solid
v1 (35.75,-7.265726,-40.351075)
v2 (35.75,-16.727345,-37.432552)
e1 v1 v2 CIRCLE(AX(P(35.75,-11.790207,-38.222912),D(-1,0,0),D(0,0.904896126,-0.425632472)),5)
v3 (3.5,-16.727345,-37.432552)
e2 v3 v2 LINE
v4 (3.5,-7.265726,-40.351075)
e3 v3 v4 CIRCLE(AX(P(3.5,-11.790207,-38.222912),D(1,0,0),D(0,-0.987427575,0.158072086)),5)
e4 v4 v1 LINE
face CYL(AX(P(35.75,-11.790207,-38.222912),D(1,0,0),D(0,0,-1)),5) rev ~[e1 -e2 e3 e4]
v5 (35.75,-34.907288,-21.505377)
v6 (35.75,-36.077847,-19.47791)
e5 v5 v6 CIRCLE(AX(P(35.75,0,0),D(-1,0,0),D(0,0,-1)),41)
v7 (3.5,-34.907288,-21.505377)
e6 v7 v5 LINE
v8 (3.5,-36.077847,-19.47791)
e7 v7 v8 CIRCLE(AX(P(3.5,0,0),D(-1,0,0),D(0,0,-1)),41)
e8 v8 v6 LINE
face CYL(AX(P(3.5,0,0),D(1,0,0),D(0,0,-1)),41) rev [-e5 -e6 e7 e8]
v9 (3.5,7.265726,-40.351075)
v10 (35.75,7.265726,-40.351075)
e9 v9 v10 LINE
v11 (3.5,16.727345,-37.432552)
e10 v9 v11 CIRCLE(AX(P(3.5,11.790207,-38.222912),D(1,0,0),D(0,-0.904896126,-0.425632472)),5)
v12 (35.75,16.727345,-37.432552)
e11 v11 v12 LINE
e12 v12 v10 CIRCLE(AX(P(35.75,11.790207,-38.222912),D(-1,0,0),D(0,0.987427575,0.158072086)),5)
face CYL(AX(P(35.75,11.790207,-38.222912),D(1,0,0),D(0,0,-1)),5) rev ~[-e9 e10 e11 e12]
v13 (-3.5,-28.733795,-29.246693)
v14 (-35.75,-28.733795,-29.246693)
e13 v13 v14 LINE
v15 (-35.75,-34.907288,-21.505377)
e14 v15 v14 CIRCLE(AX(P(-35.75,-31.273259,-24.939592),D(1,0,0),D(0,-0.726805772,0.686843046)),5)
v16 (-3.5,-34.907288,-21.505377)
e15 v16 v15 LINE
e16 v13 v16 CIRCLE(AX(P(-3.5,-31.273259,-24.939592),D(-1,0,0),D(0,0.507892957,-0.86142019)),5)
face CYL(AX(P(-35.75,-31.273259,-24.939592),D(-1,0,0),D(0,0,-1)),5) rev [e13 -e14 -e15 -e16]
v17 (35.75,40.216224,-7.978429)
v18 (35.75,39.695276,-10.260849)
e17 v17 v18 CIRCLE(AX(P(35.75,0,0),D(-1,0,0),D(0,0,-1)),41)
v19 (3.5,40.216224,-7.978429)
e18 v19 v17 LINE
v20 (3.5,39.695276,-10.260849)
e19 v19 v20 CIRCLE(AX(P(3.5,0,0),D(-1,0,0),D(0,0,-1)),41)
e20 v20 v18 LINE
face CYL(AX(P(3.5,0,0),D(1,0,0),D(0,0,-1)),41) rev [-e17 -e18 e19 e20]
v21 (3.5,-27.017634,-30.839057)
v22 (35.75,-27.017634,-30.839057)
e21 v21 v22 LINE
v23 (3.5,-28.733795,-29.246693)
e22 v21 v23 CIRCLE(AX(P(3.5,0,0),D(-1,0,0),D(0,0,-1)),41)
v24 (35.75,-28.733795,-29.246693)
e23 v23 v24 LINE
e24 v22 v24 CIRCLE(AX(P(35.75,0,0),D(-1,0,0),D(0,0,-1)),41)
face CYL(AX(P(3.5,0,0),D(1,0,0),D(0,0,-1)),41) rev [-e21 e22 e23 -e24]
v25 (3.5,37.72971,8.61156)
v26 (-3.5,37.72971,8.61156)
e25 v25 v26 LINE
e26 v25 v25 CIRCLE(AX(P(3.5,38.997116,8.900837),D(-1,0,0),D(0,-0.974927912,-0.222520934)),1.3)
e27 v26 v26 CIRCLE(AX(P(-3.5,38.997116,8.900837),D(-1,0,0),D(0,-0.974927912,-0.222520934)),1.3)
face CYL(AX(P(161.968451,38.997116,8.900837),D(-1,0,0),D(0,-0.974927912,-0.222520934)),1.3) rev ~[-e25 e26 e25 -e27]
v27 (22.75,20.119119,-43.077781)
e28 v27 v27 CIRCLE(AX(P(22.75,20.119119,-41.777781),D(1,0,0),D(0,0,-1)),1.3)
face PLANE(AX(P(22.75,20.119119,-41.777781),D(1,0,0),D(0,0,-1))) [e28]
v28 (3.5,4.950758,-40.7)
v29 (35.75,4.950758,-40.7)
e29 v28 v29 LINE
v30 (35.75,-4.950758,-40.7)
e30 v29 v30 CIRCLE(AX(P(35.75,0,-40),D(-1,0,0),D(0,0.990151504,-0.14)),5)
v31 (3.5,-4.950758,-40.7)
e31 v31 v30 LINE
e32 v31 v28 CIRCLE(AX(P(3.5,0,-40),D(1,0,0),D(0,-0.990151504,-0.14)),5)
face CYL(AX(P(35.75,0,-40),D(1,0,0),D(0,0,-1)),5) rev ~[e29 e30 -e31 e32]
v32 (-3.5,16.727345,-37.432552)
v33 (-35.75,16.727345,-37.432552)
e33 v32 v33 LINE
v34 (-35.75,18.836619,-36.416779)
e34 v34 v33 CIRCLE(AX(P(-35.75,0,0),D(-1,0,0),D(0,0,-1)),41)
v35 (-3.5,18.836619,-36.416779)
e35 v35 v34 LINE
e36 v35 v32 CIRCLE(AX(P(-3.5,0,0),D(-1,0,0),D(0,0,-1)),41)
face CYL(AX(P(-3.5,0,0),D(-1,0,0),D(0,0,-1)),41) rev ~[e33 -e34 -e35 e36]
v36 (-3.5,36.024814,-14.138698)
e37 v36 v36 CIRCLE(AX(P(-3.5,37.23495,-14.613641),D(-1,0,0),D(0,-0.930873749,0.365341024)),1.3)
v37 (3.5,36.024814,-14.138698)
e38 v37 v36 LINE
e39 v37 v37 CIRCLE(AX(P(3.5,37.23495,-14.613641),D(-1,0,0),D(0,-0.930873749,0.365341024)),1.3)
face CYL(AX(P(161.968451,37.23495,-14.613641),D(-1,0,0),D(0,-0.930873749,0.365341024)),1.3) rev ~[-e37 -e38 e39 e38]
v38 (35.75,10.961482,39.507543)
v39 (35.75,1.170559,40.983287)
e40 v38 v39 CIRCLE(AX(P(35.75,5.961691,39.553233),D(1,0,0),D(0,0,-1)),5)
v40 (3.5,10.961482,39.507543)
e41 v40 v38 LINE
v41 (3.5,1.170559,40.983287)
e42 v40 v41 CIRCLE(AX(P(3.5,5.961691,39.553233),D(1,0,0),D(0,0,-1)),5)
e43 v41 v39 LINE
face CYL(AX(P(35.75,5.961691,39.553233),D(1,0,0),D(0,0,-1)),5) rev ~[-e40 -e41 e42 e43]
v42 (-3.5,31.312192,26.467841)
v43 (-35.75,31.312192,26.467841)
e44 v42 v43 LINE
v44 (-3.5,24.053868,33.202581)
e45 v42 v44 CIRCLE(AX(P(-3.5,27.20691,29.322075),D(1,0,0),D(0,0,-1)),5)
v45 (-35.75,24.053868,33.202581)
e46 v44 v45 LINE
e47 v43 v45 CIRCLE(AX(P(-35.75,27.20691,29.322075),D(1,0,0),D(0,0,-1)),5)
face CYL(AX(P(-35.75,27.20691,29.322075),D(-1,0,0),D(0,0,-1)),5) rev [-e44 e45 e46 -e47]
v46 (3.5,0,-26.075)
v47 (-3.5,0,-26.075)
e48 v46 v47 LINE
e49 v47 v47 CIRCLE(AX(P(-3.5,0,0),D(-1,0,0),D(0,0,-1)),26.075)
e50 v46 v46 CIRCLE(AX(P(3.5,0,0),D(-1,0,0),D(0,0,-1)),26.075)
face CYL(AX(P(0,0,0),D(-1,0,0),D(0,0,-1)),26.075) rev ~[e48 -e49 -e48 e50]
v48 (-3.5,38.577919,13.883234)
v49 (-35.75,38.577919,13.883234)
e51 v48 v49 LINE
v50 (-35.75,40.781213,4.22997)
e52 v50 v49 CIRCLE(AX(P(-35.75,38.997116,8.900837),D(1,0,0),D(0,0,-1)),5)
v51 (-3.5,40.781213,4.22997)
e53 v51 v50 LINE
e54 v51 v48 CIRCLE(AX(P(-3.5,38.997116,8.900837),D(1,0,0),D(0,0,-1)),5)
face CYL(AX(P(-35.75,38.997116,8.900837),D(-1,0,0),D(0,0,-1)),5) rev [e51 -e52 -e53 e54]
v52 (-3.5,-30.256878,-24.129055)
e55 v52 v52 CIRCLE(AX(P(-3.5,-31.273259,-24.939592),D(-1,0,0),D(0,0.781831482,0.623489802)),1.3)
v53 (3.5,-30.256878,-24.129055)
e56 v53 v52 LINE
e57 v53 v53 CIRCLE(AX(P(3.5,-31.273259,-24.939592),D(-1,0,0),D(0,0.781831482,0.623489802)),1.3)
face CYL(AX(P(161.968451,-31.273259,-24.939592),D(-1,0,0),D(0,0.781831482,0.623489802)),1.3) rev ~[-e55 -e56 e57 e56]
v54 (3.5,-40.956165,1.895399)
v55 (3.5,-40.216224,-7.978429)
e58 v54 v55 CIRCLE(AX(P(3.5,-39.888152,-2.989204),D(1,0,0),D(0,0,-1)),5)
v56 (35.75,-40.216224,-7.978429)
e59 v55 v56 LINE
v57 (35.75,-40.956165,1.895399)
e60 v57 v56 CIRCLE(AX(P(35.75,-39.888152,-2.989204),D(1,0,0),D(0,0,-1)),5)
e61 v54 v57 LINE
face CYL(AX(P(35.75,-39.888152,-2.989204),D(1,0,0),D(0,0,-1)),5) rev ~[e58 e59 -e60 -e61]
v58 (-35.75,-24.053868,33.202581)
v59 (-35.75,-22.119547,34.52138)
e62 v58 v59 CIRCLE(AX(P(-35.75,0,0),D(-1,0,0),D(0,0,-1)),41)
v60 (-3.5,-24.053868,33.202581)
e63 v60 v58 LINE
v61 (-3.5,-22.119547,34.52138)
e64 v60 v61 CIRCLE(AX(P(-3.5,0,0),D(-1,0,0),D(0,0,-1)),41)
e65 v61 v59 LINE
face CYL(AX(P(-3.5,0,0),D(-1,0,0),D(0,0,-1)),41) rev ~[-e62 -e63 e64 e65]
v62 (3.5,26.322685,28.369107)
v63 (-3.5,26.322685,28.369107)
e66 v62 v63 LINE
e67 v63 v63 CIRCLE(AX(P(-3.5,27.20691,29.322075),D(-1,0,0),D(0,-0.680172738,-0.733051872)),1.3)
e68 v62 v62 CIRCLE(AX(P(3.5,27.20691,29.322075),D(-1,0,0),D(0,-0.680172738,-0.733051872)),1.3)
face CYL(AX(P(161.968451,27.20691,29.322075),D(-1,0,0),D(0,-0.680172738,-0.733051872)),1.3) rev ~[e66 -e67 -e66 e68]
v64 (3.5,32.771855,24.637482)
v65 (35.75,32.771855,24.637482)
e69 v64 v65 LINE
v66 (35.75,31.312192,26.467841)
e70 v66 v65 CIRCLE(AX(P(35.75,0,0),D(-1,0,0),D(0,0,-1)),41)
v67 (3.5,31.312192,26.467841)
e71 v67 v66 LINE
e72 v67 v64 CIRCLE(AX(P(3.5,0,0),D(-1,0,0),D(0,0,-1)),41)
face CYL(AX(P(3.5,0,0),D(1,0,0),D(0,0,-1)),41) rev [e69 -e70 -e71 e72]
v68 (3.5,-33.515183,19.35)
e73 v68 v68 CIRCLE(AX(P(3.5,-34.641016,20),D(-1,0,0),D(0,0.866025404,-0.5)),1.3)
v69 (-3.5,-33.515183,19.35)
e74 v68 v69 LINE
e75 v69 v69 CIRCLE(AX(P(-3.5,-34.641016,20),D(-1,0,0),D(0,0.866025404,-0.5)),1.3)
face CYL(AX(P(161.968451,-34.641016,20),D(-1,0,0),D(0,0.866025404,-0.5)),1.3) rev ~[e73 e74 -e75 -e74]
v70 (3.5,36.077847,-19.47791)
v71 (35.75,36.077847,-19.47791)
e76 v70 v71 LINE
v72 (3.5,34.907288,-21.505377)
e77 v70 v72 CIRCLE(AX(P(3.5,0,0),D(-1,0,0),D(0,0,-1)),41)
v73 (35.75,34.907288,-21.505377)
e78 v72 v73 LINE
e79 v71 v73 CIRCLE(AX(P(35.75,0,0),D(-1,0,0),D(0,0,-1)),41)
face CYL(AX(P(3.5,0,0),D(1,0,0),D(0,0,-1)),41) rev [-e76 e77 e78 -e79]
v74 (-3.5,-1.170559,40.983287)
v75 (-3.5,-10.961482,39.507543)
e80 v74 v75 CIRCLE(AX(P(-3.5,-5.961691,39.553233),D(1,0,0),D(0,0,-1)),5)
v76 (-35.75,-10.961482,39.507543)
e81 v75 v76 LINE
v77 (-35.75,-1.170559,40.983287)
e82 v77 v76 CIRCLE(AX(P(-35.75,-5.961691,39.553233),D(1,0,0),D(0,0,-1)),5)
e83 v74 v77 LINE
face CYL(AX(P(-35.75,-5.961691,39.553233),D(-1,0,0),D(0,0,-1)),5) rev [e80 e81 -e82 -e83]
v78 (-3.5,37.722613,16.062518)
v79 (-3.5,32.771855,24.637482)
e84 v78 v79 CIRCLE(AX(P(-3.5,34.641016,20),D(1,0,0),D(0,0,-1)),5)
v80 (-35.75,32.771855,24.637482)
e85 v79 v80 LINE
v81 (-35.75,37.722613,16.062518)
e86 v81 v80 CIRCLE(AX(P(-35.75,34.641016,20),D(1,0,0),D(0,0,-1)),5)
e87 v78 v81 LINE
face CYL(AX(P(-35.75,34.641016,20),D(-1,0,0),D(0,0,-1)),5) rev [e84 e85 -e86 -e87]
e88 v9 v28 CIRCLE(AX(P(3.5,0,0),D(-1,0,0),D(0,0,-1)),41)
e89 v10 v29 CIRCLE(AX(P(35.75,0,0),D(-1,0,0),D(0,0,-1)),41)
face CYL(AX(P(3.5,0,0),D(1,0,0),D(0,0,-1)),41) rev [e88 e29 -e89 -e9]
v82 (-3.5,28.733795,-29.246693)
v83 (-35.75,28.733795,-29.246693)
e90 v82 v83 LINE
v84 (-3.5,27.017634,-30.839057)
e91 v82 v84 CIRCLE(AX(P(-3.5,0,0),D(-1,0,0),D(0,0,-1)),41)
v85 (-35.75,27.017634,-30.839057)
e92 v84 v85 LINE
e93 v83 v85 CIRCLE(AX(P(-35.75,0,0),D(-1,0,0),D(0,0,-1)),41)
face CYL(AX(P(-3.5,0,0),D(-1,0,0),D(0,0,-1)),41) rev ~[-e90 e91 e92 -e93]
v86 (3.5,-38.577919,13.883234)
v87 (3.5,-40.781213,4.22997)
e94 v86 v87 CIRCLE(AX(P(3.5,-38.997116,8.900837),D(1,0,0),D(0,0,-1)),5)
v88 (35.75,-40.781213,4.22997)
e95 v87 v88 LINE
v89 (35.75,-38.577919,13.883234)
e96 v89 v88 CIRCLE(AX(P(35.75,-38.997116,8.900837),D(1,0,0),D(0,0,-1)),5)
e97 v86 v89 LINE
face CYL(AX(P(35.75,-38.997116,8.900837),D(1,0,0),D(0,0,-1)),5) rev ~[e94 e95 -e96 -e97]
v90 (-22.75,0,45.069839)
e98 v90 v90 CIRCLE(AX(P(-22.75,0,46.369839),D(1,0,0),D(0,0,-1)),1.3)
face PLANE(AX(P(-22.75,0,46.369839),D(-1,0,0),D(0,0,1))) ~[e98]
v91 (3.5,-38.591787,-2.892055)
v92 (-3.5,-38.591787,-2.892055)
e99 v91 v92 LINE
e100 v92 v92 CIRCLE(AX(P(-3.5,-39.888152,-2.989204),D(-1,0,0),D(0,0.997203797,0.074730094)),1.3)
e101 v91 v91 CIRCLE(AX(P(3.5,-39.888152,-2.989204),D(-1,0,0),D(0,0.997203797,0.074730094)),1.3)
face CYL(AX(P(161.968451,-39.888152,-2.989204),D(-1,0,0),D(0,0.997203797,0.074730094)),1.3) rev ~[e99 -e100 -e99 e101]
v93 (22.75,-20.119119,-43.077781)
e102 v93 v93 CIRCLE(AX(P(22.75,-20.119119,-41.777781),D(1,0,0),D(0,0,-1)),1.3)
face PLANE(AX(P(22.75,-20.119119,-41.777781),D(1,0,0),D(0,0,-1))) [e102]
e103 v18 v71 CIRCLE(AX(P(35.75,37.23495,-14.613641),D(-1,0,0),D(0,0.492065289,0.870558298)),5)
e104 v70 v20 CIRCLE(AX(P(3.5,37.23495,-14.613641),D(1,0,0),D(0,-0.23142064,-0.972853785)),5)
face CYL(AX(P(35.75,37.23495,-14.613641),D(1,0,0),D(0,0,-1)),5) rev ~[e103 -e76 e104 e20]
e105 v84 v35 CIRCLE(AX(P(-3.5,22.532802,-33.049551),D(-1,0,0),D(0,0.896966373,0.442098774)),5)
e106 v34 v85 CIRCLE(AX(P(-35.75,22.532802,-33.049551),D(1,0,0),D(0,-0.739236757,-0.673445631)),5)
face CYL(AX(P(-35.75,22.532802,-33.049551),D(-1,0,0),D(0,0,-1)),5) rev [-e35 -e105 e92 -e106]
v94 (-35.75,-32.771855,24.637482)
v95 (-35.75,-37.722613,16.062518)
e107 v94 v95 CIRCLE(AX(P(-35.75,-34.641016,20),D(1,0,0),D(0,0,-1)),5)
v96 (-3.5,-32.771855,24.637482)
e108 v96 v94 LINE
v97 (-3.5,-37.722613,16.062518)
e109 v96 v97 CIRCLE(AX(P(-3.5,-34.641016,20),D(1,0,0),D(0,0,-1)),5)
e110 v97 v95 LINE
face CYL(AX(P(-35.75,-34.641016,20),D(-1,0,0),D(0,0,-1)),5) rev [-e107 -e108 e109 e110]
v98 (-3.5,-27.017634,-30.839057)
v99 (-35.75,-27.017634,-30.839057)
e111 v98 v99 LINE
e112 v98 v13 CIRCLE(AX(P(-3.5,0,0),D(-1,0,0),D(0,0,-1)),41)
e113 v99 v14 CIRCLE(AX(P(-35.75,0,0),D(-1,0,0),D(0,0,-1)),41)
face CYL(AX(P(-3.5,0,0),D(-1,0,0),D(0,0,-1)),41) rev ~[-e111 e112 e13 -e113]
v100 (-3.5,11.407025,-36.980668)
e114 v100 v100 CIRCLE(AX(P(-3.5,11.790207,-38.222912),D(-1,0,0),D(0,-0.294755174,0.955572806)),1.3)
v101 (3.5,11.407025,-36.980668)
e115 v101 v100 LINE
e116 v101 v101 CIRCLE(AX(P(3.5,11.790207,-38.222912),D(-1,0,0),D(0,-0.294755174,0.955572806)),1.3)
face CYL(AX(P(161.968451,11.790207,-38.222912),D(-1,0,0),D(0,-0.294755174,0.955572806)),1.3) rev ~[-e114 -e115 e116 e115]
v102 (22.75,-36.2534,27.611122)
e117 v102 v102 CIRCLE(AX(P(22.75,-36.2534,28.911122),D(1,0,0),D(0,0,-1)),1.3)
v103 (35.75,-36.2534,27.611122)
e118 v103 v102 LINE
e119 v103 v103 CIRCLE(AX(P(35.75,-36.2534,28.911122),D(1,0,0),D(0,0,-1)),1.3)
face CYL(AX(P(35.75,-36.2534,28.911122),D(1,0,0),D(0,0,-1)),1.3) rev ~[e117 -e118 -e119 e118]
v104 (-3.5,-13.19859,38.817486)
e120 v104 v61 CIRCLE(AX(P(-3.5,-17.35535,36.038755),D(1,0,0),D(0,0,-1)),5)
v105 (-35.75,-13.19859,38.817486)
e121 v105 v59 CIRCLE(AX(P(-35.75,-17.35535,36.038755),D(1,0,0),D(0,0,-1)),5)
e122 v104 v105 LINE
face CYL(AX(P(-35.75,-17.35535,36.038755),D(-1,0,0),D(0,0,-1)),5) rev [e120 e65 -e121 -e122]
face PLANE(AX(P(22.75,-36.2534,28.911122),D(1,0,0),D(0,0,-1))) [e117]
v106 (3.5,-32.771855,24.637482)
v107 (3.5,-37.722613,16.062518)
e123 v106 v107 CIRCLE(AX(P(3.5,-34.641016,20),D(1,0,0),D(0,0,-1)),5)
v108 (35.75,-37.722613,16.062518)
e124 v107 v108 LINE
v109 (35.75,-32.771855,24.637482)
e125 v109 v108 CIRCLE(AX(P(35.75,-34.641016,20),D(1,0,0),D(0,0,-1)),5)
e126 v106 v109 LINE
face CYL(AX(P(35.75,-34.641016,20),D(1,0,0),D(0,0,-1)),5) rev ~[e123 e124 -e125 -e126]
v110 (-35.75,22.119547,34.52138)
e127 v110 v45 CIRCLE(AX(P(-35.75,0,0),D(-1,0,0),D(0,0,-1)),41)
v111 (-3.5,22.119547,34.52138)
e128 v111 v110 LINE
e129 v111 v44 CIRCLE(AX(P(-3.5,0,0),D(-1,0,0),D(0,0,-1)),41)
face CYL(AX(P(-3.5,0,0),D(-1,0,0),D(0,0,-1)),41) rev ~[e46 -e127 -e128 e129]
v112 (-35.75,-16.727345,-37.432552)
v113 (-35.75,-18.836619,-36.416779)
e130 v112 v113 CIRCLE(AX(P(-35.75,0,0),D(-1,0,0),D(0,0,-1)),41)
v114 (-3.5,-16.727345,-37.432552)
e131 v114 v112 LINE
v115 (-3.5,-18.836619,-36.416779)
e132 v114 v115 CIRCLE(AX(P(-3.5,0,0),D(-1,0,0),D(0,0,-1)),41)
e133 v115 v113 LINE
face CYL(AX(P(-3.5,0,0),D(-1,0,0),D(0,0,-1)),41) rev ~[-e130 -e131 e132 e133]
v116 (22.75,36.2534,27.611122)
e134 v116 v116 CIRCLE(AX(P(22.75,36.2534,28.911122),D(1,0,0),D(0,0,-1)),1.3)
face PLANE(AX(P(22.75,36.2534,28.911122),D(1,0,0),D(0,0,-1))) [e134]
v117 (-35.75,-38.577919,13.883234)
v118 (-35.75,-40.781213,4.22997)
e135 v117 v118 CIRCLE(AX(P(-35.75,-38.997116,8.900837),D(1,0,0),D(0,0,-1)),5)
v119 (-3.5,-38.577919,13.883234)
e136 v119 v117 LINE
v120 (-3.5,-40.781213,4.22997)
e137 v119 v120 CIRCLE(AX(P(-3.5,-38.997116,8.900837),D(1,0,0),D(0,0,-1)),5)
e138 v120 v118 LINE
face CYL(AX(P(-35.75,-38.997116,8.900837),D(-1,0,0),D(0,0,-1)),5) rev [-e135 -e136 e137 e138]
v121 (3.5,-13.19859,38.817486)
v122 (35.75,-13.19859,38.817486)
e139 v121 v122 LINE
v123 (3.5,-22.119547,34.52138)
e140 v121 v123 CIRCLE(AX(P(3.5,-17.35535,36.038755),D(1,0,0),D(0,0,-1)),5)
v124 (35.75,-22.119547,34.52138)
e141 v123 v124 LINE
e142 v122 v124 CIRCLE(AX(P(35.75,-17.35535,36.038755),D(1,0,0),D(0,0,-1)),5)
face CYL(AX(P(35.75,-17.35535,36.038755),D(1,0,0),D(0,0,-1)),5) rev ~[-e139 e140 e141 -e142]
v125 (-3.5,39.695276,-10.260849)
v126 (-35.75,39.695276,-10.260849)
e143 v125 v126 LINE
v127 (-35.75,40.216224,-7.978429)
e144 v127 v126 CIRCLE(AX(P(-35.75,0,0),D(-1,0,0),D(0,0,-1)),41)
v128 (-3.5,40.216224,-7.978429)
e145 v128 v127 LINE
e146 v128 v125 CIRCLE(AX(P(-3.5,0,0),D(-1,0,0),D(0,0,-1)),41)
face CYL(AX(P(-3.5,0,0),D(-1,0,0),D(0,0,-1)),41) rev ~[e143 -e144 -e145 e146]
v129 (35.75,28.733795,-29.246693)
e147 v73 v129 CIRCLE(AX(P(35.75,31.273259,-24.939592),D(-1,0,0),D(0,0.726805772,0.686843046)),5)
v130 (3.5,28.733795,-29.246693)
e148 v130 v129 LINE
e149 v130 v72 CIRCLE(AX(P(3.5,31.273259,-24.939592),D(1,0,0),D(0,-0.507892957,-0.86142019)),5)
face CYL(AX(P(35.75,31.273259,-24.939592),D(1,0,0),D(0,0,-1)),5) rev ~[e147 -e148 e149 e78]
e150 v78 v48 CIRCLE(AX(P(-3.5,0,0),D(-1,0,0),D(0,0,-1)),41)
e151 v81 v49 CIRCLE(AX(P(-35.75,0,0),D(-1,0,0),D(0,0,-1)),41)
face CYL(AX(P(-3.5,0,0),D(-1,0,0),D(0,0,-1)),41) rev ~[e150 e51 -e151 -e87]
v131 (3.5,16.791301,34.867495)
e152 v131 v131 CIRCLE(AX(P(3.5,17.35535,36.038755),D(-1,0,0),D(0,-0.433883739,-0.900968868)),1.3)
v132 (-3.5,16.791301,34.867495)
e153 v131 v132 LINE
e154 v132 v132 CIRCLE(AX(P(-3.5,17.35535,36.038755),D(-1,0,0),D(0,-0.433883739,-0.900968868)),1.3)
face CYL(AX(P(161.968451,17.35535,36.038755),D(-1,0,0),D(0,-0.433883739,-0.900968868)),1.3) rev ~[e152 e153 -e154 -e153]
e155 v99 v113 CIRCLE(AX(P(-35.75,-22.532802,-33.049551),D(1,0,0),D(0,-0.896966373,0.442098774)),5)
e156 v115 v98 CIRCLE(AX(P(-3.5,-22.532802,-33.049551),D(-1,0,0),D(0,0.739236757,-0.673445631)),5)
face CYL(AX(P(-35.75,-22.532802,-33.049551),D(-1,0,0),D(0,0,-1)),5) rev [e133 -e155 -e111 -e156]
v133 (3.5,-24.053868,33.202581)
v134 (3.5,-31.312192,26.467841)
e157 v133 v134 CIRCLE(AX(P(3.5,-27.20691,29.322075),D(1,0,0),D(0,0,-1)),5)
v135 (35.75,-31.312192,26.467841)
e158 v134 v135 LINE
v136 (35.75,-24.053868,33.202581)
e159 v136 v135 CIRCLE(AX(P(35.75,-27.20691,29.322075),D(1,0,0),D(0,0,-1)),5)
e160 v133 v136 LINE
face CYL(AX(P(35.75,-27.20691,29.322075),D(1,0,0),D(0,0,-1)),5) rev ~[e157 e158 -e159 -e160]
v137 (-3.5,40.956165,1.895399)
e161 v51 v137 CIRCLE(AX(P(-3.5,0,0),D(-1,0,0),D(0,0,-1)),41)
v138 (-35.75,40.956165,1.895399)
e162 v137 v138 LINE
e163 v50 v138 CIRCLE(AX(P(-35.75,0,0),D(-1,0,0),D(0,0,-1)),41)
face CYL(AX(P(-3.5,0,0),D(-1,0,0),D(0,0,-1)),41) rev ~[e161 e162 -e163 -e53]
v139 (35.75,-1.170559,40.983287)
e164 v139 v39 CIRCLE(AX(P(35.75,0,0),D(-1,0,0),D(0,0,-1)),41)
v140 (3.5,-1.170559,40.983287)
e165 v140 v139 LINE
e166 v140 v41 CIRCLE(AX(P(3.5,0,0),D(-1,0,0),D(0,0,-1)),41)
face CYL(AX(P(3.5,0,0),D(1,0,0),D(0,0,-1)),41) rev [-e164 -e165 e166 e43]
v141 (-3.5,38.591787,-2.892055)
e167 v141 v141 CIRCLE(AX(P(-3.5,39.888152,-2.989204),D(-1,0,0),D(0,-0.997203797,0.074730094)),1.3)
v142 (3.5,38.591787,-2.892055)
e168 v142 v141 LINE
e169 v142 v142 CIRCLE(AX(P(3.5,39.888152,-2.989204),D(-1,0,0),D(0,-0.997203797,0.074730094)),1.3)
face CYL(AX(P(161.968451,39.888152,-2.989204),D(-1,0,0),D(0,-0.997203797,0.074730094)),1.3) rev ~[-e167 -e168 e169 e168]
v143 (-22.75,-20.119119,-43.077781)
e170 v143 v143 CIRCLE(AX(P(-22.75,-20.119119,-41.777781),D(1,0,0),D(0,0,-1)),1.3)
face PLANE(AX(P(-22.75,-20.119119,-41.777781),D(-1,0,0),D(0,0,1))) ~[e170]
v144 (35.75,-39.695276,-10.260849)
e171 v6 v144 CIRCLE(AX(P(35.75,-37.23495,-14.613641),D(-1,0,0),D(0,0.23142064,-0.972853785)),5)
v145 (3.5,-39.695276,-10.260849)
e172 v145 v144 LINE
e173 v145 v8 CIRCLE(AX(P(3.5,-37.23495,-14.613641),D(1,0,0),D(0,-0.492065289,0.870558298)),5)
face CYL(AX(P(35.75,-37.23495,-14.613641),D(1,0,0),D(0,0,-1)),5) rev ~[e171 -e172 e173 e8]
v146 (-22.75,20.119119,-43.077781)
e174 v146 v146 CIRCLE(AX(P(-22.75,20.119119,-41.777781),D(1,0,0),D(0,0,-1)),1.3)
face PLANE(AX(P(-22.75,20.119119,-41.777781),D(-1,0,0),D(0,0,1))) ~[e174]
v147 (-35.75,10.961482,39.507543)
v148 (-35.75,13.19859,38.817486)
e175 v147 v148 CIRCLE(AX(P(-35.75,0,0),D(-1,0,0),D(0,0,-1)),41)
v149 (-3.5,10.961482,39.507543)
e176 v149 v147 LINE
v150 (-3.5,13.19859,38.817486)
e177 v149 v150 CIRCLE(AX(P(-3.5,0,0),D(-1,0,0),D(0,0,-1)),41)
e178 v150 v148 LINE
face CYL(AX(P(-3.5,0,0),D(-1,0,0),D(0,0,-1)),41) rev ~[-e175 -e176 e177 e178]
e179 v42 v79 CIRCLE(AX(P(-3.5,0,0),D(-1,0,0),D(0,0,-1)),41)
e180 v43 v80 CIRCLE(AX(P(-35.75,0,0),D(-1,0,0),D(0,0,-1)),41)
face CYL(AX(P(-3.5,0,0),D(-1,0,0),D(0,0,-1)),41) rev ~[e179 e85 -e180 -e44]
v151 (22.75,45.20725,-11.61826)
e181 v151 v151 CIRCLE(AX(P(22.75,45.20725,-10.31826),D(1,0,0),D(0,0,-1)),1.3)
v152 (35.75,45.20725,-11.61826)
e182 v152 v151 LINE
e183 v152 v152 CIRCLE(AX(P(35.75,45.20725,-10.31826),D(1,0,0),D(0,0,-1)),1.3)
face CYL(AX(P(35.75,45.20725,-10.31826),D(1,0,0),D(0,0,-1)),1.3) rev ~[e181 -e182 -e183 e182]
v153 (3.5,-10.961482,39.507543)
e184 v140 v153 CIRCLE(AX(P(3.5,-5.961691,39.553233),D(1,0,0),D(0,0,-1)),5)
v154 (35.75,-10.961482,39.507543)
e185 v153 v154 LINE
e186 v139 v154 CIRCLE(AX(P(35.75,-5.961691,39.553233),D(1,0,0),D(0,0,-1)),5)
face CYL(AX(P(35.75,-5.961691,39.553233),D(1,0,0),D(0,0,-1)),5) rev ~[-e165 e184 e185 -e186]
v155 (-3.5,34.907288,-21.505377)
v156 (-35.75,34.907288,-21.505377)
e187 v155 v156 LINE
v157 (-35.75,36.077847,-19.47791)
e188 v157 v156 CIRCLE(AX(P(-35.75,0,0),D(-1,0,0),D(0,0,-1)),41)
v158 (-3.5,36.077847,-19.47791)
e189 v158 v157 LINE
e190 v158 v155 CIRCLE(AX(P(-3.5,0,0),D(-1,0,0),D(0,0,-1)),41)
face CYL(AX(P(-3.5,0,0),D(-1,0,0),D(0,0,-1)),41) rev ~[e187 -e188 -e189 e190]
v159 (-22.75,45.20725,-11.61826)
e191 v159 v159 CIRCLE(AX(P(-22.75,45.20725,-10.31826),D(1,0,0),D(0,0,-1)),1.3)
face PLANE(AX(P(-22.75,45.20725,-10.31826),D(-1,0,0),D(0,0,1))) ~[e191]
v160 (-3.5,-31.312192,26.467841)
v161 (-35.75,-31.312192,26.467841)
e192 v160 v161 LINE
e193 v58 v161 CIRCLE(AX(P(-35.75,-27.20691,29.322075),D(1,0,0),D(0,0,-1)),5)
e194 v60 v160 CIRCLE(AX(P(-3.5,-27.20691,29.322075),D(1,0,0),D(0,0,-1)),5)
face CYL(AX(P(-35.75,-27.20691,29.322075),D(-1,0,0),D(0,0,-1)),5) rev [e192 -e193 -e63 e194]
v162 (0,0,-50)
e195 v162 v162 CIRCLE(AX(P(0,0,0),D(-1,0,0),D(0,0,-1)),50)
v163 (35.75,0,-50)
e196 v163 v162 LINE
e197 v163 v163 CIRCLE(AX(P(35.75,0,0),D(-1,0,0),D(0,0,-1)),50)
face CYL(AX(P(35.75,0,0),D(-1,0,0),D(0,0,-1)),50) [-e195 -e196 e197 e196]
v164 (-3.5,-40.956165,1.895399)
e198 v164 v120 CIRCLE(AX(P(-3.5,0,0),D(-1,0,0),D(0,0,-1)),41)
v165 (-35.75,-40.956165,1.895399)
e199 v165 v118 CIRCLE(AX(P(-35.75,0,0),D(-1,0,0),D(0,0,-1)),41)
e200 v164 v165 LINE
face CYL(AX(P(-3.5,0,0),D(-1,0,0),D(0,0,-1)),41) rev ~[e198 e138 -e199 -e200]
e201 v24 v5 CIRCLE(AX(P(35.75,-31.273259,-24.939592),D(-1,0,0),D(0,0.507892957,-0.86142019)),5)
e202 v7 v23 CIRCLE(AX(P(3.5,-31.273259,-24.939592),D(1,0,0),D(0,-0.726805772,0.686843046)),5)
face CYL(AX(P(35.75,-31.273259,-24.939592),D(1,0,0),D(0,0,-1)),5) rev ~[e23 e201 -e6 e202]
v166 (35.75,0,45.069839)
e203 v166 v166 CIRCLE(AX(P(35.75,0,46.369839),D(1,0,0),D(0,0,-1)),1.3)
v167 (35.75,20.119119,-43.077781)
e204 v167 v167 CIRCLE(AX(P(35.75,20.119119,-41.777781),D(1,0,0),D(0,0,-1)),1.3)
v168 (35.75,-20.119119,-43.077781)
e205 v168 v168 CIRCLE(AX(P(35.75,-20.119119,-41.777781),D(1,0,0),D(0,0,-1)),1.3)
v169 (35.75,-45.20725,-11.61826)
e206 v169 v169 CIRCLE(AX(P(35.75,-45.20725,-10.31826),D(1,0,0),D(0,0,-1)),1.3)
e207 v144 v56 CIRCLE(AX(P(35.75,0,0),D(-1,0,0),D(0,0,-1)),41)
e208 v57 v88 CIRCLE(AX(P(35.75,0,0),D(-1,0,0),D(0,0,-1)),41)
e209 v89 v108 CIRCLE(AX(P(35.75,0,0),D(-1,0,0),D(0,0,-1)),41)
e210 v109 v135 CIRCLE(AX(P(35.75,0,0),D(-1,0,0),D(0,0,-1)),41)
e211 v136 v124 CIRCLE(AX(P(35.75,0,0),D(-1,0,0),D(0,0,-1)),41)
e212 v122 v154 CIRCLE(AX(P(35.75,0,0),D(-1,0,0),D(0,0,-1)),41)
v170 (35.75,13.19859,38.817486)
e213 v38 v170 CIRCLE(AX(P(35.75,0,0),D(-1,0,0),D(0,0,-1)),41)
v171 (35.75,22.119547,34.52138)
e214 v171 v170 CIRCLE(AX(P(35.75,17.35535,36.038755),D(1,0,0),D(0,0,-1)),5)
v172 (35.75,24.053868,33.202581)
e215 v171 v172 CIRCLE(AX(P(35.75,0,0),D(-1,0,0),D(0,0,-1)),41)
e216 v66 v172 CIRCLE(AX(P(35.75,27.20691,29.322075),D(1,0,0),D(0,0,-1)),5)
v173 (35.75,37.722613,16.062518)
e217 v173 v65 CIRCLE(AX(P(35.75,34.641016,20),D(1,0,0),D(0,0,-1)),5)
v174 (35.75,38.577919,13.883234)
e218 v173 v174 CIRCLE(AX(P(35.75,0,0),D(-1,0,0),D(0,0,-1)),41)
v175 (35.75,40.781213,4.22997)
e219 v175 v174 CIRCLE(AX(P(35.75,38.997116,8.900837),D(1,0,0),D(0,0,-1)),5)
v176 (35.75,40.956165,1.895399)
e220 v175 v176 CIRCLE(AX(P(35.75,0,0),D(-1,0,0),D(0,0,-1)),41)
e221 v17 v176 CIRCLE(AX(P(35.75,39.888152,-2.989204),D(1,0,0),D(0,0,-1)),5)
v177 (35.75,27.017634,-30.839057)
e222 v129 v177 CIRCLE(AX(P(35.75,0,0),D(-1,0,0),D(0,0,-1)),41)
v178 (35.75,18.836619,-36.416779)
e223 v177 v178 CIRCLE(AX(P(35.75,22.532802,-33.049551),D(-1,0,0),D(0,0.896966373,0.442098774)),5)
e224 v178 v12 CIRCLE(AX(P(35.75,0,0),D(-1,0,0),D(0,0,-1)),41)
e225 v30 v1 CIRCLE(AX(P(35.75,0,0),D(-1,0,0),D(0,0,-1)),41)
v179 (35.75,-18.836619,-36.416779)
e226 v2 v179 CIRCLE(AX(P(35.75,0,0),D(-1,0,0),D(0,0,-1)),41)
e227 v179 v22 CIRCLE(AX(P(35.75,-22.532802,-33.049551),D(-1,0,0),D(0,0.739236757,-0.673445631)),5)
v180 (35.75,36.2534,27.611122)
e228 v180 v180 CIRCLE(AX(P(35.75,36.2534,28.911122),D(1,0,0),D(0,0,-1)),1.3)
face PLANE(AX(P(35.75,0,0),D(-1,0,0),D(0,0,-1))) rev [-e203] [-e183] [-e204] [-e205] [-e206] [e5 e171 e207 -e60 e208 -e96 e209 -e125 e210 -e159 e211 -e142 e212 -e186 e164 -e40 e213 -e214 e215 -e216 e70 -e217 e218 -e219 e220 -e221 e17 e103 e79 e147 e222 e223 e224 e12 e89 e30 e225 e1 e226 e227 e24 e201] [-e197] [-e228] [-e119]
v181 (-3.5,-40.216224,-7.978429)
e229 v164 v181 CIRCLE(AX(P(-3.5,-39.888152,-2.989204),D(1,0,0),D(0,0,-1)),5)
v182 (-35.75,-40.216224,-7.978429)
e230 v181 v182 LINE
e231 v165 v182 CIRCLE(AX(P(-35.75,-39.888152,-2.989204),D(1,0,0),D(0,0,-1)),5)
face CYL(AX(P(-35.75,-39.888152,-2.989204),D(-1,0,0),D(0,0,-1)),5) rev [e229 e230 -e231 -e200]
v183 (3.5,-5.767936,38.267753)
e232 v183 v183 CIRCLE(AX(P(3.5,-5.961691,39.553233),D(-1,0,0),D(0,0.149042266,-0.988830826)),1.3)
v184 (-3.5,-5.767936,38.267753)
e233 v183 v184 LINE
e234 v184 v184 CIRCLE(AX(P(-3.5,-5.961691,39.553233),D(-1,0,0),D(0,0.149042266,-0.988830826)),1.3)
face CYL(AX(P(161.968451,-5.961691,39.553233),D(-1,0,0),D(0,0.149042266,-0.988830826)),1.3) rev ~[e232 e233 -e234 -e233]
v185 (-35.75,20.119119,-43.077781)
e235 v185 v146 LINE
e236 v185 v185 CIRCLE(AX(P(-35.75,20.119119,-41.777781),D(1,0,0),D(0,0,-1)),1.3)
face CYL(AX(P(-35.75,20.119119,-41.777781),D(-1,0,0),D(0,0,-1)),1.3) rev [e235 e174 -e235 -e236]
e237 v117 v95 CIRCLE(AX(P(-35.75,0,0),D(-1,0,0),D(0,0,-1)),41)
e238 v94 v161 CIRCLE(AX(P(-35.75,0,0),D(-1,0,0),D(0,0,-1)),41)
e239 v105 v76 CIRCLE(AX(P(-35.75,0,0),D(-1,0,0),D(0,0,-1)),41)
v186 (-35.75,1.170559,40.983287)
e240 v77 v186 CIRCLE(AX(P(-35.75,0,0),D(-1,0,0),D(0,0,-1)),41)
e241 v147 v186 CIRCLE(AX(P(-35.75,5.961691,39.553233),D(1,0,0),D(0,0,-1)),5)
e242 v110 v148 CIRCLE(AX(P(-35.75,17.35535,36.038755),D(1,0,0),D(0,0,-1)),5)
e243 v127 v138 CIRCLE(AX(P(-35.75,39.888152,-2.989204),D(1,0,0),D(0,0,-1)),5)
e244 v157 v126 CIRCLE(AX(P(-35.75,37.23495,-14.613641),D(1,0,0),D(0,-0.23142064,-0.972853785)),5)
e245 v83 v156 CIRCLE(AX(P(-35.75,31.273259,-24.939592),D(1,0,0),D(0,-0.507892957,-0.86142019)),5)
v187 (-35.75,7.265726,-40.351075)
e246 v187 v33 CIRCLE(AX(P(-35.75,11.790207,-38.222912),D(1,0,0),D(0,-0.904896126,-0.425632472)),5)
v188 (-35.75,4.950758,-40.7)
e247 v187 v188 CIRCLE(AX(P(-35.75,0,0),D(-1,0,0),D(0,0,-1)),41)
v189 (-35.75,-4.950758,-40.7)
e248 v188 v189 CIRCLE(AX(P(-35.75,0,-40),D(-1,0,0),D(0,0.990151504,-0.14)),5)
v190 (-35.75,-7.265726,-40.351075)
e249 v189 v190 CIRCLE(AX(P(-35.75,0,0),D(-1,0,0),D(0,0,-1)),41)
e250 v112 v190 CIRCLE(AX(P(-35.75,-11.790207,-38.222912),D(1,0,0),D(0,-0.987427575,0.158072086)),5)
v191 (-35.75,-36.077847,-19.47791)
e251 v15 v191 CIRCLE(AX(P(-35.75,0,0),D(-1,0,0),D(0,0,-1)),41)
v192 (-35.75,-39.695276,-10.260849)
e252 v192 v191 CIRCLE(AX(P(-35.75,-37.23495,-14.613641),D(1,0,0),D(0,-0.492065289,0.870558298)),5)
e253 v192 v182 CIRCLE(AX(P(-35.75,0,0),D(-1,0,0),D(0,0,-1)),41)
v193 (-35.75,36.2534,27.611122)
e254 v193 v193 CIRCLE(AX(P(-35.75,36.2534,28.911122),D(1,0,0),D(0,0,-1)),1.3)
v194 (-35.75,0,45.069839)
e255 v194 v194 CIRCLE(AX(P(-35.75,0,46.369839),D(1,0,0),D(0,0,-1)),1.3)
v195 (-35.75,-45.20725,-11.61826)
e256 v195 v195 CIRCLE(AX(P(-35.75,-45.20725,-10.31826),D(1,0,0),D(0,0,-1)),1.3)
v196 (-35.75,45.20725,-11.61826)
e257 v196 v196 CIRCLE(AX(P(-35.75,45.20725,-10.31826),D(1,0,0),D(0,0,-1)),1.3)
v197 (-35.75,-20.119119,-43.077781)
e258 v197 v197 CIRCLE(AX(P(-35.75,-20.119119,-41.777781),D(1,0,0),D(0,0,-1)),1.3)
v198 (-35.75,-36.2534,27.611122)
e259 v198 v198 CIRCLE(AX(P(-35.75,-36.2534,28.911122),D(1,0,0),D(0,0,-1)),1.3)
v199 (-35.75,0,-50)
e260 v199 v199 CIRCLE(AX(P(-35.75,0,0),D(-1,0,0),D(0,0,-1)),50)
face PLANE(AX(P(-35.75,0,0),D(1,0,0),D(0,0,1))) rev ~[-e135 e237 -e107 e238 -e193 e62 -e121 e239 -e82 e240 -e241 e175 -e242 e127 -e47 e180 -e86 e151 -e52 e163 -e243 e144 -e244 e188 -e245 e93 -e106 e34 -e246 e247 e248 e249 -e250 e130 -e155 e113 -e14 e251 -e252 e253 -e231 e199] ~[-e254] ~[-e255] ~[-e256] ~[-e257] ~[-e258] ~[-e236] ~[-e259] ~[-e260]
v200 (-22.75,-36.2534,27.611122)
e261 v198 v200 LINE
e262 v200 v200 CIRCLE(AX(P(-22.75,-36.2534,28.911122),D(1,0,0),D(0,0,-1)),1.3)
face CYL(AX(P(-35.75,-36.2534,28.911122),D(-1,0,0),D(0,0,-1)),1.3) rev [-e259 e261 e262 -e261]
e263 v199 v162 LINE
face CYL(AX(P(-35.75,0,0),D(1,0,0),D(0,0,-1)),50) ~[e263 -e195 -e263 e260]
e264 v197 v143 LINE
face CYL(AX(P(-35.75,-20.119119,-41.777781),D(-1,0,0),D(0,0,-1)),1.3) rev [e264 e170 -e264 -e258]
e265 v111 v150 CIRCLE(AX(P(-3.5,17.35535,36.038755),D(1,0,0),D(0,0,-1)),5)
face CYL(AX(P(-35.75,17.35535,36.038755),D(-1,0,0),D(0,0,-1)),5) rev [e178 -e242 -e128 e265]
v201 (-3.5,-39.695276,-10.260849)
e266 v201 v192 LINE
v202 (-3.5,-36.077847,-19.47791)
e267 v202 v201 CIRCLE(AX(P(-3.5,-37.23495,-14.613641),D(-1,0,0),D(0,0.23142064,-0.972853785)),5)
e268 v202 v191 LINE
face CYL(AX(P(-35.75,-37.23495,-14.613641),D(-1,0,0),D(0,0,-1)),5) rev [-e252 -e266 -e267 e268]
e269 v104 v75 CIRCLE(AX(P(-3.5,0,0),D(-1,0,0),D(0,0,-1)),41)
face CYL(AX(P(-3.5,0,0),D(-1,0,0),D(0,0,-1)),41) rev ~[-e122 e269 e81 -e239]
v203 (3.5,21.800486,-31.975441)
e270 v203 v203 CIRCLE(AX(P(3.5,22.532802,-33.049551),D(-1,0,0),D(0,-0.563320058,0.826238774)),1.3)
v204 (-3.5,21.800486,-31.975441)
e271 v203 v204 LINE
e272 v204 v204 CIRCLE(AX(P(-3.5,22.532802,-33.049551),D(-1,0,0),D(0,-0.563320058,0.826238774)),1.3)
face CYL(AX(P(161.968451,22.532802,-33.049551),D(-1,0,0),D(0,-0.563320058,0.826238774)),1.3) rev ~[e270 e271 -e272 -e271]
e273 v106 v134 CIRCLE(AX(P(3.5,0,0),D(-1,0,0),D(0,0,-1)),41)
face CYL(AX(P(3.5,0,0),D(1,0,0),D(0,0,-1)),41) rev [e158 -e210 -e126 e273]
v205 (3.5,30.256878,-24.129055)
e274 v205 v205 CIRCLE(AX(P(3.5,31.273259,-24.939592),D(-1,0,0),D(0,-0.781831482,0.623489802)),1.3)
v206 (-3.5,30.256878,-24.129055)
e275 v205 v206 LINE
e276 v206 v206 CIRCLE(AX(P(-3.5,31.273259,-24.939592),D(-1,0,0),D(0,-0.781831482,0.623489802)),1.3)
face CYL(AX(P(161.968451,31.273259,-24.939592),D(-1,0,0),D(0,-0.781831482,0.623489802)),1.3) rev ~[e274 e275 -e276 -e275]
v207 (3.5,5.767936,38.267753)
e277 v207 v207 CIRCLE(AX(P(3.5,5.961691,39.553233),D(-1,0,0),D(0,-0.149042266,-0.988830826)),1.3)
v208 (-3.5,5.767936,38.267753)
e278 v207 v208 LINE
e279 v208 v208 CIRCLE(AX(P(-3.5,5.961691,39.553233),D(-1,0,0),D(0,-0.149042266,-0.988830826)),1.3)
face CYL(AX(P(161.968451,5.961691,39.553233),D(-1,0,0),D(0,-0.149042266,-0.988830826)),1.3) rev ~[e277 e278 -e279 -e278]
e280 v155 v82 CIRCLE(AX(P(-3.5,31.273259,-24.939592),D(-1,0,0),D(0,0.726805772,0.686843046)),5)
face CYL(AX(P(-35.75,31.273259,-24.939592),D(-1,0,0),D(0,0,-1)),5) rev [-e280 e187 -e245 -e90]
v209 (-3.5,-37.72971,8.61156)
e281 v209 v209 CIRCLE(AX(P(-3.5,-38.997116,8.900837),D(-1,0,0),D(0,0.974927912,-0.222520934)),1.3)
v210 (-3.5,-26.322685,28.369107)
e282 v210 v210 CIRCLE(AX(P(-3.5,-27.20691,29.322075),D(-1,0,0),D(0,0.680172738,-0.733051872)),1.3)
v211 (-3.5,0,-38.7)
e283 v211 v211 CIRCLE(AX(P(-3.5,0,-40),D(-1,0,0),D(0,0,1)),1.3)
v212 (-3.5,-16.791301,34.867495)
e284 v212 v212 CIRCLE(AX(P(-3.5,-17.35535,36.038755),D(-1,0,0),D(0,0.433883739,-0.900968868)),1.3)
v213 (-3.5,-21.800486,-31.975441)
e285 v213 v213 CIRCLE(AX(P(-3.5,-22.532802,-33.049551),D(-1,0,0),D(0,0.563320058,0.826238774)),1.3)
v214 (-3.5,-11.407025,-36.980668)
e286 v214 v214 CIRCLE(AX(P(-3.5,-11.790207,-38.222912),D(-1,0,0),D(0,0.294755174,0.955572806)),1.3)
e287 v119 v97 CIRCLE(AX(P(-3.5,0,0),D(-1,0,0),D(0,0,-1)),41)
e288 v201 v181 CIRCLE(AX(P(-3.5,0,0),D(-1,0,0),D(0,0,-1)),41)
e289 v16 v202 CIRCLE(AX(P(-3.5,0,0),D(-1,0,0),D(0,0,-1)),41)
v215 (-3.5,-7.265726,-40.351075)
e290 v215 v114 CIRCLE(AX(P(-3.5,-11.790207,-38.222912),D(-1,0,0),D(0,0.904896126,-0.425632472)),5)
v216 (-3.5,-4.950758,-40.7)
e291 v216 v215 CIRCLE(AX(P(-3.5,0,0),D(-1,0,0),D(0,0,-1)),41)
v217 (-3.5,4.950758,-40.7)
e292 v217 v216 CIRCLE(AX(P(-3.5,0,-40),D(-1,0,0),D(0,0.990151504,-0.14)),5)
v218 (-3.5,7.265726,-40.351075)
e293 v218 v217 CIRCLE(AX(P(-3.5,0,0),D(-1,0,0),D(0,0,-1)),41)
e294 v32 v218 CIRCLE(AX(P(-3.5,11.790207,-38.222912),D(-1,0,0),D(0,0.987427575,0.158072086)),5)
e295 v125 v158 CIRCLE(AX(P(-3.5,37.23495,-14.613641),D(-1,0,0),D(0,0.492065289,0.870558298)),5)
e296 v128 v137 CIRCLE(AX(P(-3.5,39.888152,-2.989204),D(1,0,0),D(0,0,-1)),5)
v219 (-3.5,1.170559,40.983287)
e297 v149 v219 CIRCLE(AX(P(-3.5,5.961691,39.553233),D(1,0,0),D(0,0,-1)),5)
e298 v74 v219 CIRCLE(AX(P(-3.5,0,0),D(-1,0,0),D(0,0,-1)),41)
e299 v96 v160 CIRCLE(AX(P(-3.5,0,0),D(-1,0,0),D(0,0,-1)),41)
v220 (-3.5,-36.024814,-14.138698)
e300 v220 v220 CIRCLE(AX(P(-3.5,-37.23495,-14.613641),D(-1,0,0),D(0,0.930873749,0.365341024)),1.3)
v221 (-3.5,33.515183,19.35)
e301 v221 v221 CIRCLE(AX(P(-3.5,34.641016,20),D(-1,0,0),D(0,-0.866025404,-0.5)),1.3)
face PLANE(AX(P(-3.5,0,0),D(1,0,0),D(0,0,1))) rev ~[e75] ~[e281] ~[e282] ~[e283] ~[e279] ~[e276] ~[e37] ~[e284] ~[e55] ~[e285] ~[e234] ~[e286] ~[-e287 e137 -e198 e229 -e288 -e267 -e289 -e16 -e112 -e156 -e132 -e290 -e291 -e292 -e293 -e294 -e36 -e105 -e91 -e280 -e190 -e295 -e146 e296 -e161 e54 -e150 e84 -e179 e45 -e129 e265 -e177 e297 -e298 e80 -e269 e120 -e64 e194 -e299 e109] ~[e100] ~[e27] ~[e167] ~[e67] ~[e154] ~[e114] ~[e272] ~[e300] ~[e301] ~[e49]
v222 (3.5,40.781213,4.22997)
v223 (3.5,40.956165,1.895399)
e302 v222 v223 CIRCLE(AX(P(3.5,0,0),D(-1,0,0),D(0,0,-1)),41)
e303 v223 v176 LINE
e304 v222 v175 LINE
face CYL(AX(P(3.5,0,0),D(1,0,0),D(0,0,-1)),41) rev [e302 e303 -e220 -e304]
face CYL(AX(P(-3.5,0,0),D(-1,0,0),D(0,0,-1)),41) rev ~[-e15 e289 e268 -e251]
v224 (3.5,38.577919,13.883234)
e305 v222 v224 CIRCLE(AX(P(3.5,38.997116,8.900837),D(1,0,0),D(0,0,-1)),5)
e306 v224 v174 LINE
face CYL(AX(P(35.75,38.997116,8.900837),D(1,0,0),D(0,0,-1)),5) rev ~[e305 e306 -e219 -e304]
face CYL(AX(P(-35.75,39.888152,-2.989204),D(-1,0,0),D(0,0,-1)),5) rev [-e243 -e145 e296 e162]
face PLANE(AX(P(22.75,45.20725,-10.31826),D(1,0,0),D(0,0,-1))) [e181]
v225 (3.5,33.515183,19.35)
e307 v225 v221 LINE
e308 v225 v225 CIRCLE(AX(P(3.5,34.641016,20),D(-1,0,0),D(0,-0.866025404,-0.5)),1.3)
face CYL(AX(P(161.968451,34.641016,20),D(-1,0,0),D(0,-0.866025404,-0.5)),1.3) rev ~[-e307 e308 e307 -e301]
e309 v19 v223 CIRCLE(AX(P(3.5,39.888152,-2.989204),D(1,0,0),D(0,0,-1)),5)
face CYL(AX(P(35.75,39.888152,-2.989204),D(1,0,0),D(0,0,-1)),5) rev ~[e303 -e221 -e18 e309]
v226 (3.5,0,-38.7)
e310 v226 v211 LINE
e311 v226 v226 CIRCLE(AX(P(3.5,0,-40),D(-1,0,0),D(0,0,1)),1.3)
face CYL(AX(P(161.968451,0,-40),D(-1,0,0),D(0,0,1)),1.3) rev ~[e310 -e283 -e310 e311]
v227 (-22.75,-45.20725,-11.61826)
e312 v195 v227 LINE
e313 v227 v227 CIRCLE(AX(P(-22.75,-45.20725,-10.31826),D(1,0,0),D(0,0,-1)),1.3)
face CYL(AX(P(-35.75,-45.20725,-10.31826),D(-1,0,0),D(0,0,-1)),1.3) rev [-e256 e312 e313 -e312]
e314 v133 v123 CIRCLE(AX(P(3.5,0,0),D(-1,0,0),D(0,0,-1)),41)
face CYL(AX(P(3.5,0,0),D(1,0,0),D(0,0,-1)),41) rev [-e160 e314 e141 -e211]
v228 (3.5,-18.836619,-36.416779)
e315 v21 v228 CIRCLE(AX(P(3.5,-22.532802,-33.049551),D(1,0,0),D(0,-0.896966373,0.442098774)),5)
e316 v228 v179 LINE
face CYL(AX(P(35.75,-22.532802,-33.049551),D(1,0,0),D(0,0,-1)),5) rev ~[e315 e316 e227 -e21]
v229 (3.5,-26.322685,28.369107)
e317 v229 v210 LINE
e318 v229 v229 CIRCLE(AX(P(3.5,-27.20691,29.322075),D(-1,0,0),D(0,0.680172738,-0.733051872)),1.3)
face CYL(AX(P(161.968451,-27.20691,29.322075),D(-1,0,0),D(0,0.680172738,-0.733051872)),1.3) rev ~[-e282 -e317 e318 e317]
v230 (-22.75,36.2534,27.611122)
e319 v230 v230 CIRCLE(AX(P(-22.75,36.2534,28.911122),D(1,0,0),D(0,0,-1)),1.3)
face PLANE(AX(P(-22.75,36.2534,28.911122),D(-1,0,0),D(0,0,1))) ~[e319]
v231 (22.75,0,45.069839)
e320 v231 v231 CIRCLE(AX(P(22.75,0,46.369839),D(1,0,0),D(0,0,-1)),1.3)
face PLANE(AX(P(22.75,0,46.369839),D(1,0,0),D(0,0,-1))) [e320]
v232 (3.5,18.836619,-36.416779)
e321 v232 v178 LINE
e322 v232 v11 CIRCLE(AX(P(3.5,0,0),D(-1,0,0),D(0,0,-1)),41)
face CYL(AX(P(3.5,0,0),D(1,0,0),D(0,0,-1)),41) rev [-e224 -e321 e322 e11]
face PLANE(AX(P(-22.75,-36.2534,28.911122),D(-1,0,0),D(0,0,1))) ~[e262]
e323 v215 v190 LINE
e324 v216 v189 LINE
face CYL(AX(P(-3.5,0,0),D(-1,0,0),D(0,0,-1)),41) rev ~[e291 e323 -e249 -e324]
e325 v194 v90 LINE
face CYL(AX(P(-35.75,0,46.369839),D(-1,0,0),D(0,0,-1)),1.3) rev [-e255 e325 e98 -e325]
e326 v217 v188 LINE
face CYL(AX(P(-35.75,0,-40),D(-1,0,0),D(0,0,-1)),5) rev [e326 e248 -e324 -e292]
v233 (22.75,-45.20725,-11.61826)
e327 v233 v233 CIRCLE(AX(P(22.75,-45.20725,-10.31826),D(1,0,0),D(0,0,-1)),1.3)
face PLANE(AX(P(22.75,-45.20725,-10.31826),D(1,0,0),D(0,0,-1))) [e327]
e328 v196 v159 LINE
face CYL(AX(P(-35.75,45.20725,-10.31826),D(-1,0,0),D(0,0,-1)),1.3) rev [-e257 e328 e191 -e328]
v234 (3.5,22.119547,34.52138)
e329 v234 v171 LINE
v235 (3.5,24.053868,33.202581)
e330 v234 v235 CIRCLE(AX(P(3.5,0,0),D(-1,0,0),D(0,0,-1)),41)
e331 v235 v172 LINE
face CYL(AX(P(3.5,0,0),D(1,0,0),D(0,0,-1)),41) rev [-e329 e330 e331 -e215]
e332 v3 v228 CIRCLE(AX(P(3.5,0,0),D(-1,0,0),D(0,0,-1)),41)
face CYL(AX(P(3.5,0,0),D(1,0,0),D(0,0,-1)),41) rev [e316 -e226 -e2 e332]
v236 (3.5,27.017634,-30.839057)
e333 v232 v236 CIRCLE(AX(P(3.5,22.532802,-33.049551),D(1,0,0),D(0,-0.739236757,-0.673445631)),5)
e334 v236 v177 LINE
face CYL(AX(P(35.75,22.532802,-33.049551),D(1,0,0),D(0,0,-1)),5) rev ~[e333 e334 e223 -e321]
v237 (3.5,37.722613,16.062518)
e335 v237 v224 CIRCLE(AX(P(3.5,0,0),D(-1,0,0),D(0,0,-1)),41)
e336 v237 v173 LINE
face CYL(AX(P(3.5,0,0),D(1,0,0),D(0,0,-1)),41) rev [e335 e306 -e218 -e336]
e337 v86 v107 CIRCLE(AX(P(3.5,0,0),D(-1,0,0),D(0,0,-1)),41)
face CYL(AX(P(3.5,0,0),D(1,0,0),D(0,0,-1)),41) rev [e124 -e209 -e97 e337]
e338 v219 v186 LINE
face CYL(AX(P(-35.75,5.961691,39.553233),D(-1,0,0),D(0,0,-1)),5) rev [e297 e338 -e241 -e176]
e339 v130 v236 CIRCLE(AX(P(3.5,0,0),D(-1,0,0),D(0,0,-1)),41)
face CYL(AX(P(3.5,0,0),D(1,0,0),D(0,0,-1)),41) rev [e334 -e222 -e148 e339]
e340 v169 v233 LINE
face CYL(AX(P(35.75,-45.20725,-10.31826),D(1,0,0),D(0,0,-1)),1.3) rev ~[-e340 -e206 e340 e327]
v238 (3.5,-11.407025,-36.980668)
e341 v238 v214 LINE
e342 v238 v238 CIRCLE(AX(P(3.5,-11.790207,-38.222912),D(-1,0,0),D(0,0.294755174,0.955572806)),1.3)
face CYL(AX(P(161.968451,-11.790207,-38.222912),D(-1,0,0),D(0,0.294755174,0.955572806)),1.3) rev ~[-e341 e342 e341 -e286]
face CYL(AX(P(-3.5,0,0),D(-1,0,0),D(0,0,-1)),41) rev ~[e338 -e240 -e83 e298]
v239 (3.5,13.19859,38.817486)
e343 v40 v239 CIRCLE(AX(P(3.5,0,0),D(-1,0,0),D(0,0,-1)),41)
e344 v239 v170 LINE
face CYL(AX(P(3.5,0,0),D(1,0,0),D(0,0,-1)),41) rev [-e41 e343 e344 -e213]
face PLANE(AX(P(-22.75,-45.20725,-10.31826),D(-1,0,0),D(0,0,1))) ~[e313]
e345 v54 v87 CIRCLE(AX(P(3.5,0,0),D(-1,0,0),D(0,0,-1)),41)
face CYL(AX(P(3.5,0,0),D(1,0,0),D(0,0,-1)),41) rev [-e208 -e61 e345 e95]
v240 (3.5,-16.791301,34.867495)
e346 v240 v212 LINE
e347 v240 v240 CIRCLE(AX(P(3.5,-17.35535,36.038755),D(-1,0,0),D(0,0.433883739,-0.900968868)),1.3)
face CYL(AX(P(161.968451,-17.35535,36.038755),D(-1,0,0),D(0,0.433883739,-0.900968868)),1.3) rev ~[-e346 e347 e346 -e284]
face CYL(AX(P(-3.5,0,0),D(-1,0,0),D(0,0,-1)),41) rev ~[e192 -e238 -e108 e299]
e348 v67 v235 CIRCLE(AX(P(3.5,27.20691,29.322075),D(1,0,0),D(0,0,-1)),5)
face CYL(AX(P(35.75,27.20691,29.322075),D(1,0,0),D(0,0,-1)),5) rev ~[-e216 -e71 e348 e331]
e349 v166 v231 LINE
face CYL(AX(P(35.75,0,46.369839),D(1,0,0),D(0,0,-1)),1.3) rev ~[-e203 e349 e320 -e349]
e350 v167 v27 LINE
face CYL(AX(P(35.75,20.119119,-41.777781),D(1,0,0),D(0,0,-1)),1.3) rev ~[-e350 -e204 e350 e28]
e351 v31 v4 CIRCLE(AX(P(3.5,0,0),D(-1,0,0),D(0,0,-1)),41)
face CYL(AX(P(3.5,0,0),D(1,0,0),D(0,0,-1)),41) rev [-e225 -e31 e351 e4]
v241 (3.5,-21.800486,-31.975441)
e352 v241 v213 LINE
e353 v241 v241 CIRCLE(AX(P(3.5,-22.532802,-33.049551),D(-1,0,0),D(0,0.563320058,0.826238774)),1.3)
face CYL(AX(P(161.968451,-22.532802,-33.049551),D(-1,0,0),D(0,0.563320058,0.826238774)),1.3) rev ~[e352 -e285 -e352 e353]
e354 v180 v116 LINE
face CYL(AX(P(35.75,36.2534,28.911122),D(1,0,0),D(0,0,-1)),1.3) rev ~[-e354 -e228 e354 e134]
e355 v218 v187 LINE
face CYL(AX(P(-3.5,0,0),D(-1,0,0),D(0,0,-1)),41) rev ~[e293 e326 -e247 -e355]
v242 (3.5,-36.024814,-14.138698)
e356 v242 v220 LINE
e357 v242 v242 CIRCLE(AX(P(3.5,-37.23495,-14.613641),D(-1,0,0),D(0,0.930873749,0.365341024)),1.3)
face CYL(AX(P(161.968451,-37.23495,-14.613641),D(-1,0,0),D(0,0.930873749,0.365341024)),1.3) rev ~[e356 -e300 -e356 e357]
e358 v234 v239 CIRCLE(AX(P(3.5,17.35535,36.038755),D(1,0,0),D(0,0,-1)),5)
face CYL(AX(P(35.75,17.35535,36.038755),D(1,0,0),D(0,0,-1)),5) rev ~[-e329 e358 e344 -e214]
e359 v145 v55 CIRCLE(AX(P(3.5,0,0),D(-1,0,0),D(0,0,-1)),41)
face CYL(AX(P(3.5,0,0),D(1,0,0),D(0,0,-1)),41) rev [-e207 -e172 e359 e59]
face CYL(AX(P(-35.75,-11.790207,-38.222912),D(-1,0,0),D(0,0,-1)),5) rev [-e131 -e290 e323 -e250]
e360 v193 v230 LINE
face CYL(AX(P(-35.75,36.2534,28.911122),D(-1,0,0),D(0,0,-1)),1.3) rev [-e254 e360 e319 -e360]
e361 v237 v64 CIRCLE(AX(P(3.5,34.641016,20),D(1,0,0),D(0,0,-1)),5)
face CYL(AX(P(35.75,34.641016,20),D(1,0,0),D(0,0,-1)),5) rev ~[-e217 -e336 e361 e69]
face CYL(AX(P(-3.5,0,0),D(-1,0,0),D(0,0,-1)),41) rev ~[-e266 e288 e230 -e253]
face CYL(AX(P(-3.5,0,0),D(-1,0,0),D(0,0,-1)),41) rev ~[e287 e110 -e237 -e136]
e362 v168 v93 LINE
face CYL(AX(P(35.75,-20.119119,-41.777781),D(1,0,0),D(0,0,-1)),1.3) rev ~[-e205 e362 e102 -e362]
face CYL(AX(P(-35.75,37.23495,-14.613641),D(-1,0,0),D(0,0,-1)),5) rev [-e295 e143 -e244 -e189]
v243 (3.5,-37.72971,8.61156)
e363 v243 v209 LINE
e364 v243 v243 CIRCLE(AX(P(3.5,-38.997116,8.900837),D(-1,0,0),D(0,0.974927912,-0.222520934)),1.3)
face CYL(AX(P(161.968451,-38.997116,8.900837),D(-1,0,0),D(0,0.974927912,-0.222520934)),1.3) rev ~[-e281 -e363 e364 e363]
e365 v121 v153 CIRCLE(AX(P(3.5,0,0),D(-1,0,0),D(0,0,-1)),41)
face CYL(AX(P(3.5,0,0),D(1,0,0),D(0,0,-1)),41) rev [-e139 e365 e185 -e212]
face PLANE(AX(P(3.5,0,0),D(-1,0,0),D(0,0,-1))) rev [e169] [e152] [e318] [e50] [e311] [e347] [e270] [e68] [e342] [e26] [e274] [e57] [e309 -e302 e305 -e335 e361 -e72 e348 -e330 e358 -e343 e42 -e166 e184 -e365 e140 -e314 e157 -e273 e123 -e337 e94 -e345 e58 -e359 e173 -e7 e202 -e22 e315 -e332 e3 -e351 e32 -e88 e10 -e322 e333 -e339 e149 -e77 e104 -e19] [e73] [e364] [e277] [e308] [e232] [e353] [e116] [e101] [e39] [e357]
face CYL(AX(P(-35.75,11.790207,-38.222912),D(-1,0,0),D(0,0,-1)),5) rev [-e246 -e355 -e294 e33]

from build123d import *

# Parameters (mm, degrees)
SKIZZE4_R                        = 5
SCHNITT_LINEAR_AUSTRAGEN1_DEPTH  = 32.25
SKIZZE5_R                        = 1.3
SCHNITT_LINEAR_AUSTRAGEN2_DEPTH  = 13
F_2_6_2_6_DURCHMESSER_BOHRUNG1_D = 2.6
KREISMUSTER1_COUNT               = 21


with BuildPart() as part:
    # Skizze2 → Rotation1 (revolve)
    with BuildSketch(Plane.XY, mode=Mode.PRIVATE) as rotation1_sk:
        Polygon((0, 26.075), (3.5, 26.075), (3.5, 41), (35.75, 41), (35.75, 50), (0, 50), align=None)
    rotation1 = revolve(rotation1_sk.sketch.rotate(Axis((0, 0, 0), (-1, 0, 0)), 90), axis=Axis((0, 0, 0), (-1, 0, 0)))

    # Skizze4 → Schnitt-Linear austragen1 (cut)
    with BuildSketch(Plane(origin=(35.75, 0, 0), x_dir=(0, 0, -1), z_dir=(1, 0, 0))):
        with Locations((40, 0)):
            Circle(SKIZZE4_R)
        with Locations((38.222912231, -11.790206976)):
            Circle(SKIZZE4_R)
        with Locations((33.049550973, -22.532802323)):
            Circle(SKIZZE4_R)
        with Locations((24.939592074, -31.273259299)):
            Circle(SKIZZE4_R)
        with Locations((14.613640975, -37.234949946)):
            Circle(SKIZZE4_R)
        with Locations((2.989203743, -39.888151887)):
            Circle(SKIZZE4_R)
        with Locations((-8.900837358, -38.997116487)):
            Circle(SKIZZE4_R)
        with Locations((-20, -34.641016151)):
            Circle(SKIZZE4_R)
        with Locations((-29.322074873, -27.206909511)):
            Circle(SKIZZE4_R)
        with Locations((-36.038754716, -17.355349565)):
            Circle(SKIZZE4_R)
        with Locations((-39.553233049, -5.961690647)):
            Circle(SKIZZE4_R)
        with Locations((-39.553233049, 5.961690647)):
            Circle(SKIZZE4_R)
        with Locations((-36.038754716, 17.355349565)):
            Circle(SKIZZE4_R)
        with Locations((-29.322074873, 27.206909511)):
            Circle(SKIZZE4_R)
        with Locations((-20, 34.641016151)):
            Circle(SKIZZE4_R)
        with Locations((-8.900837358, 38.997116487)):
            Circle(SKIZZE4_R)
        with Locations((2.989203743, 39.888151887)):
            Circle(SKIZZE4_R)
        with Locations((14.613640975, 37.234949946)):
            Circle(SKIZZE4_R)
        with Locations((24.939592074, 31.273259299)):
            Circle(SKIZZE4_R)
        with Locations((33.049550973, 22.532802323)):
            Circle(SKIZZE4_R)
        with Locations((38.222912231, 11.790206976)):
            Circle(SKIZZE4_R)
    schnitt_linear_austragen1 = extrude(amount=-SCHNITT_LINEAR_AUSTRAGEN1_DEPTH, mode=Mode.SUBTRACT)

    # Skizze5 → Schnitt-Linear austragen2 (cut)
    with BuildSketch(Plane(origin=(35.75, 0, 0), x_dir=(0, 0, -1), z_dir=(1, 0, 0))):
        with Locations((-46.369838758, 0)):
            Circle(SKIZZE5_R)
        with Locations((-28.91112158, 36.253399778)):
            Circle(SKIZZE5_R)
        with Locations((10.318259828, 45.207250089)):
            Circle(SKIZZE5_R)
        with Locations((41.777781131, 20.119119023)):
            Circle(SKIZZE5_R)
        with Locations((41.777781131, -20.119119023)):
            Circle(SKIZZE5_R)
        with Locations((10.318259828, -45.207250089)):
            Circle(SKIZZE5_R)
        with Locations((-28.91112158, -36.253399778)):
            Circle(SKIZZE5_R)
    schnitt_linear_austragen2 = extrude(amount=-SCHNITT_LINEAR_AUSTRAGEN2_DEPTH, mode=Mode.SUBTRACT)

    # Spiegeln1: Rotation1, Schnitt-Linear austragen1, Schnitt-Linear austragen2 across plane
    add(rotation1.mirror(Plane(origin=(0, 0, 0), x_dir=(0, 0, 1), z_dir=(1, 0, 0))))
    add(schnitt_linear_austragen1.mirror(Plane(origin=(0, 0, 0), x_dir=(0, 0, 1), z_dir=(1, 0, 0))), mode=Mode.SUBTRACT)
    add(schnitt_linear_austragen2.mirror(Plane(origin=(0, 0, 0), x_dir=(0, 0, 1), z_dir=(1, 0, 0))), mode=Mode.SUBTRACT)

    # Ø2.6 (2.6) Durchmesser Bohrung1 (through all)
    with Locations(Plane(origin=(3.5, 0, 0), x_dir=(0, 0, -1), z_dir=(1, 0, 0))):
        with Locations((40, 0)):
            f_2_6_2_6_durchmesser_bohrung1 = Hole(F_2_6_2_6_DURCHMESSER_BOHRUNG1_D / 2)

    # Kreismuster1: Ø2.6 (2.6) Durchmesser Bohrung1 ×21 about axis
    kreismuster1_axis = Axis((0, 0, 0), (1, 0, 0))
    for i in range(1, KREISMUSTER1_COUNT):
        add(f_2_6_2_6_durchmesser_bohrung1.rotate(kreismuster1_axis, i * 360 / KREISMUSTER1_COUNT), mode=Mode.SUBTRACT)


solid = part.part
